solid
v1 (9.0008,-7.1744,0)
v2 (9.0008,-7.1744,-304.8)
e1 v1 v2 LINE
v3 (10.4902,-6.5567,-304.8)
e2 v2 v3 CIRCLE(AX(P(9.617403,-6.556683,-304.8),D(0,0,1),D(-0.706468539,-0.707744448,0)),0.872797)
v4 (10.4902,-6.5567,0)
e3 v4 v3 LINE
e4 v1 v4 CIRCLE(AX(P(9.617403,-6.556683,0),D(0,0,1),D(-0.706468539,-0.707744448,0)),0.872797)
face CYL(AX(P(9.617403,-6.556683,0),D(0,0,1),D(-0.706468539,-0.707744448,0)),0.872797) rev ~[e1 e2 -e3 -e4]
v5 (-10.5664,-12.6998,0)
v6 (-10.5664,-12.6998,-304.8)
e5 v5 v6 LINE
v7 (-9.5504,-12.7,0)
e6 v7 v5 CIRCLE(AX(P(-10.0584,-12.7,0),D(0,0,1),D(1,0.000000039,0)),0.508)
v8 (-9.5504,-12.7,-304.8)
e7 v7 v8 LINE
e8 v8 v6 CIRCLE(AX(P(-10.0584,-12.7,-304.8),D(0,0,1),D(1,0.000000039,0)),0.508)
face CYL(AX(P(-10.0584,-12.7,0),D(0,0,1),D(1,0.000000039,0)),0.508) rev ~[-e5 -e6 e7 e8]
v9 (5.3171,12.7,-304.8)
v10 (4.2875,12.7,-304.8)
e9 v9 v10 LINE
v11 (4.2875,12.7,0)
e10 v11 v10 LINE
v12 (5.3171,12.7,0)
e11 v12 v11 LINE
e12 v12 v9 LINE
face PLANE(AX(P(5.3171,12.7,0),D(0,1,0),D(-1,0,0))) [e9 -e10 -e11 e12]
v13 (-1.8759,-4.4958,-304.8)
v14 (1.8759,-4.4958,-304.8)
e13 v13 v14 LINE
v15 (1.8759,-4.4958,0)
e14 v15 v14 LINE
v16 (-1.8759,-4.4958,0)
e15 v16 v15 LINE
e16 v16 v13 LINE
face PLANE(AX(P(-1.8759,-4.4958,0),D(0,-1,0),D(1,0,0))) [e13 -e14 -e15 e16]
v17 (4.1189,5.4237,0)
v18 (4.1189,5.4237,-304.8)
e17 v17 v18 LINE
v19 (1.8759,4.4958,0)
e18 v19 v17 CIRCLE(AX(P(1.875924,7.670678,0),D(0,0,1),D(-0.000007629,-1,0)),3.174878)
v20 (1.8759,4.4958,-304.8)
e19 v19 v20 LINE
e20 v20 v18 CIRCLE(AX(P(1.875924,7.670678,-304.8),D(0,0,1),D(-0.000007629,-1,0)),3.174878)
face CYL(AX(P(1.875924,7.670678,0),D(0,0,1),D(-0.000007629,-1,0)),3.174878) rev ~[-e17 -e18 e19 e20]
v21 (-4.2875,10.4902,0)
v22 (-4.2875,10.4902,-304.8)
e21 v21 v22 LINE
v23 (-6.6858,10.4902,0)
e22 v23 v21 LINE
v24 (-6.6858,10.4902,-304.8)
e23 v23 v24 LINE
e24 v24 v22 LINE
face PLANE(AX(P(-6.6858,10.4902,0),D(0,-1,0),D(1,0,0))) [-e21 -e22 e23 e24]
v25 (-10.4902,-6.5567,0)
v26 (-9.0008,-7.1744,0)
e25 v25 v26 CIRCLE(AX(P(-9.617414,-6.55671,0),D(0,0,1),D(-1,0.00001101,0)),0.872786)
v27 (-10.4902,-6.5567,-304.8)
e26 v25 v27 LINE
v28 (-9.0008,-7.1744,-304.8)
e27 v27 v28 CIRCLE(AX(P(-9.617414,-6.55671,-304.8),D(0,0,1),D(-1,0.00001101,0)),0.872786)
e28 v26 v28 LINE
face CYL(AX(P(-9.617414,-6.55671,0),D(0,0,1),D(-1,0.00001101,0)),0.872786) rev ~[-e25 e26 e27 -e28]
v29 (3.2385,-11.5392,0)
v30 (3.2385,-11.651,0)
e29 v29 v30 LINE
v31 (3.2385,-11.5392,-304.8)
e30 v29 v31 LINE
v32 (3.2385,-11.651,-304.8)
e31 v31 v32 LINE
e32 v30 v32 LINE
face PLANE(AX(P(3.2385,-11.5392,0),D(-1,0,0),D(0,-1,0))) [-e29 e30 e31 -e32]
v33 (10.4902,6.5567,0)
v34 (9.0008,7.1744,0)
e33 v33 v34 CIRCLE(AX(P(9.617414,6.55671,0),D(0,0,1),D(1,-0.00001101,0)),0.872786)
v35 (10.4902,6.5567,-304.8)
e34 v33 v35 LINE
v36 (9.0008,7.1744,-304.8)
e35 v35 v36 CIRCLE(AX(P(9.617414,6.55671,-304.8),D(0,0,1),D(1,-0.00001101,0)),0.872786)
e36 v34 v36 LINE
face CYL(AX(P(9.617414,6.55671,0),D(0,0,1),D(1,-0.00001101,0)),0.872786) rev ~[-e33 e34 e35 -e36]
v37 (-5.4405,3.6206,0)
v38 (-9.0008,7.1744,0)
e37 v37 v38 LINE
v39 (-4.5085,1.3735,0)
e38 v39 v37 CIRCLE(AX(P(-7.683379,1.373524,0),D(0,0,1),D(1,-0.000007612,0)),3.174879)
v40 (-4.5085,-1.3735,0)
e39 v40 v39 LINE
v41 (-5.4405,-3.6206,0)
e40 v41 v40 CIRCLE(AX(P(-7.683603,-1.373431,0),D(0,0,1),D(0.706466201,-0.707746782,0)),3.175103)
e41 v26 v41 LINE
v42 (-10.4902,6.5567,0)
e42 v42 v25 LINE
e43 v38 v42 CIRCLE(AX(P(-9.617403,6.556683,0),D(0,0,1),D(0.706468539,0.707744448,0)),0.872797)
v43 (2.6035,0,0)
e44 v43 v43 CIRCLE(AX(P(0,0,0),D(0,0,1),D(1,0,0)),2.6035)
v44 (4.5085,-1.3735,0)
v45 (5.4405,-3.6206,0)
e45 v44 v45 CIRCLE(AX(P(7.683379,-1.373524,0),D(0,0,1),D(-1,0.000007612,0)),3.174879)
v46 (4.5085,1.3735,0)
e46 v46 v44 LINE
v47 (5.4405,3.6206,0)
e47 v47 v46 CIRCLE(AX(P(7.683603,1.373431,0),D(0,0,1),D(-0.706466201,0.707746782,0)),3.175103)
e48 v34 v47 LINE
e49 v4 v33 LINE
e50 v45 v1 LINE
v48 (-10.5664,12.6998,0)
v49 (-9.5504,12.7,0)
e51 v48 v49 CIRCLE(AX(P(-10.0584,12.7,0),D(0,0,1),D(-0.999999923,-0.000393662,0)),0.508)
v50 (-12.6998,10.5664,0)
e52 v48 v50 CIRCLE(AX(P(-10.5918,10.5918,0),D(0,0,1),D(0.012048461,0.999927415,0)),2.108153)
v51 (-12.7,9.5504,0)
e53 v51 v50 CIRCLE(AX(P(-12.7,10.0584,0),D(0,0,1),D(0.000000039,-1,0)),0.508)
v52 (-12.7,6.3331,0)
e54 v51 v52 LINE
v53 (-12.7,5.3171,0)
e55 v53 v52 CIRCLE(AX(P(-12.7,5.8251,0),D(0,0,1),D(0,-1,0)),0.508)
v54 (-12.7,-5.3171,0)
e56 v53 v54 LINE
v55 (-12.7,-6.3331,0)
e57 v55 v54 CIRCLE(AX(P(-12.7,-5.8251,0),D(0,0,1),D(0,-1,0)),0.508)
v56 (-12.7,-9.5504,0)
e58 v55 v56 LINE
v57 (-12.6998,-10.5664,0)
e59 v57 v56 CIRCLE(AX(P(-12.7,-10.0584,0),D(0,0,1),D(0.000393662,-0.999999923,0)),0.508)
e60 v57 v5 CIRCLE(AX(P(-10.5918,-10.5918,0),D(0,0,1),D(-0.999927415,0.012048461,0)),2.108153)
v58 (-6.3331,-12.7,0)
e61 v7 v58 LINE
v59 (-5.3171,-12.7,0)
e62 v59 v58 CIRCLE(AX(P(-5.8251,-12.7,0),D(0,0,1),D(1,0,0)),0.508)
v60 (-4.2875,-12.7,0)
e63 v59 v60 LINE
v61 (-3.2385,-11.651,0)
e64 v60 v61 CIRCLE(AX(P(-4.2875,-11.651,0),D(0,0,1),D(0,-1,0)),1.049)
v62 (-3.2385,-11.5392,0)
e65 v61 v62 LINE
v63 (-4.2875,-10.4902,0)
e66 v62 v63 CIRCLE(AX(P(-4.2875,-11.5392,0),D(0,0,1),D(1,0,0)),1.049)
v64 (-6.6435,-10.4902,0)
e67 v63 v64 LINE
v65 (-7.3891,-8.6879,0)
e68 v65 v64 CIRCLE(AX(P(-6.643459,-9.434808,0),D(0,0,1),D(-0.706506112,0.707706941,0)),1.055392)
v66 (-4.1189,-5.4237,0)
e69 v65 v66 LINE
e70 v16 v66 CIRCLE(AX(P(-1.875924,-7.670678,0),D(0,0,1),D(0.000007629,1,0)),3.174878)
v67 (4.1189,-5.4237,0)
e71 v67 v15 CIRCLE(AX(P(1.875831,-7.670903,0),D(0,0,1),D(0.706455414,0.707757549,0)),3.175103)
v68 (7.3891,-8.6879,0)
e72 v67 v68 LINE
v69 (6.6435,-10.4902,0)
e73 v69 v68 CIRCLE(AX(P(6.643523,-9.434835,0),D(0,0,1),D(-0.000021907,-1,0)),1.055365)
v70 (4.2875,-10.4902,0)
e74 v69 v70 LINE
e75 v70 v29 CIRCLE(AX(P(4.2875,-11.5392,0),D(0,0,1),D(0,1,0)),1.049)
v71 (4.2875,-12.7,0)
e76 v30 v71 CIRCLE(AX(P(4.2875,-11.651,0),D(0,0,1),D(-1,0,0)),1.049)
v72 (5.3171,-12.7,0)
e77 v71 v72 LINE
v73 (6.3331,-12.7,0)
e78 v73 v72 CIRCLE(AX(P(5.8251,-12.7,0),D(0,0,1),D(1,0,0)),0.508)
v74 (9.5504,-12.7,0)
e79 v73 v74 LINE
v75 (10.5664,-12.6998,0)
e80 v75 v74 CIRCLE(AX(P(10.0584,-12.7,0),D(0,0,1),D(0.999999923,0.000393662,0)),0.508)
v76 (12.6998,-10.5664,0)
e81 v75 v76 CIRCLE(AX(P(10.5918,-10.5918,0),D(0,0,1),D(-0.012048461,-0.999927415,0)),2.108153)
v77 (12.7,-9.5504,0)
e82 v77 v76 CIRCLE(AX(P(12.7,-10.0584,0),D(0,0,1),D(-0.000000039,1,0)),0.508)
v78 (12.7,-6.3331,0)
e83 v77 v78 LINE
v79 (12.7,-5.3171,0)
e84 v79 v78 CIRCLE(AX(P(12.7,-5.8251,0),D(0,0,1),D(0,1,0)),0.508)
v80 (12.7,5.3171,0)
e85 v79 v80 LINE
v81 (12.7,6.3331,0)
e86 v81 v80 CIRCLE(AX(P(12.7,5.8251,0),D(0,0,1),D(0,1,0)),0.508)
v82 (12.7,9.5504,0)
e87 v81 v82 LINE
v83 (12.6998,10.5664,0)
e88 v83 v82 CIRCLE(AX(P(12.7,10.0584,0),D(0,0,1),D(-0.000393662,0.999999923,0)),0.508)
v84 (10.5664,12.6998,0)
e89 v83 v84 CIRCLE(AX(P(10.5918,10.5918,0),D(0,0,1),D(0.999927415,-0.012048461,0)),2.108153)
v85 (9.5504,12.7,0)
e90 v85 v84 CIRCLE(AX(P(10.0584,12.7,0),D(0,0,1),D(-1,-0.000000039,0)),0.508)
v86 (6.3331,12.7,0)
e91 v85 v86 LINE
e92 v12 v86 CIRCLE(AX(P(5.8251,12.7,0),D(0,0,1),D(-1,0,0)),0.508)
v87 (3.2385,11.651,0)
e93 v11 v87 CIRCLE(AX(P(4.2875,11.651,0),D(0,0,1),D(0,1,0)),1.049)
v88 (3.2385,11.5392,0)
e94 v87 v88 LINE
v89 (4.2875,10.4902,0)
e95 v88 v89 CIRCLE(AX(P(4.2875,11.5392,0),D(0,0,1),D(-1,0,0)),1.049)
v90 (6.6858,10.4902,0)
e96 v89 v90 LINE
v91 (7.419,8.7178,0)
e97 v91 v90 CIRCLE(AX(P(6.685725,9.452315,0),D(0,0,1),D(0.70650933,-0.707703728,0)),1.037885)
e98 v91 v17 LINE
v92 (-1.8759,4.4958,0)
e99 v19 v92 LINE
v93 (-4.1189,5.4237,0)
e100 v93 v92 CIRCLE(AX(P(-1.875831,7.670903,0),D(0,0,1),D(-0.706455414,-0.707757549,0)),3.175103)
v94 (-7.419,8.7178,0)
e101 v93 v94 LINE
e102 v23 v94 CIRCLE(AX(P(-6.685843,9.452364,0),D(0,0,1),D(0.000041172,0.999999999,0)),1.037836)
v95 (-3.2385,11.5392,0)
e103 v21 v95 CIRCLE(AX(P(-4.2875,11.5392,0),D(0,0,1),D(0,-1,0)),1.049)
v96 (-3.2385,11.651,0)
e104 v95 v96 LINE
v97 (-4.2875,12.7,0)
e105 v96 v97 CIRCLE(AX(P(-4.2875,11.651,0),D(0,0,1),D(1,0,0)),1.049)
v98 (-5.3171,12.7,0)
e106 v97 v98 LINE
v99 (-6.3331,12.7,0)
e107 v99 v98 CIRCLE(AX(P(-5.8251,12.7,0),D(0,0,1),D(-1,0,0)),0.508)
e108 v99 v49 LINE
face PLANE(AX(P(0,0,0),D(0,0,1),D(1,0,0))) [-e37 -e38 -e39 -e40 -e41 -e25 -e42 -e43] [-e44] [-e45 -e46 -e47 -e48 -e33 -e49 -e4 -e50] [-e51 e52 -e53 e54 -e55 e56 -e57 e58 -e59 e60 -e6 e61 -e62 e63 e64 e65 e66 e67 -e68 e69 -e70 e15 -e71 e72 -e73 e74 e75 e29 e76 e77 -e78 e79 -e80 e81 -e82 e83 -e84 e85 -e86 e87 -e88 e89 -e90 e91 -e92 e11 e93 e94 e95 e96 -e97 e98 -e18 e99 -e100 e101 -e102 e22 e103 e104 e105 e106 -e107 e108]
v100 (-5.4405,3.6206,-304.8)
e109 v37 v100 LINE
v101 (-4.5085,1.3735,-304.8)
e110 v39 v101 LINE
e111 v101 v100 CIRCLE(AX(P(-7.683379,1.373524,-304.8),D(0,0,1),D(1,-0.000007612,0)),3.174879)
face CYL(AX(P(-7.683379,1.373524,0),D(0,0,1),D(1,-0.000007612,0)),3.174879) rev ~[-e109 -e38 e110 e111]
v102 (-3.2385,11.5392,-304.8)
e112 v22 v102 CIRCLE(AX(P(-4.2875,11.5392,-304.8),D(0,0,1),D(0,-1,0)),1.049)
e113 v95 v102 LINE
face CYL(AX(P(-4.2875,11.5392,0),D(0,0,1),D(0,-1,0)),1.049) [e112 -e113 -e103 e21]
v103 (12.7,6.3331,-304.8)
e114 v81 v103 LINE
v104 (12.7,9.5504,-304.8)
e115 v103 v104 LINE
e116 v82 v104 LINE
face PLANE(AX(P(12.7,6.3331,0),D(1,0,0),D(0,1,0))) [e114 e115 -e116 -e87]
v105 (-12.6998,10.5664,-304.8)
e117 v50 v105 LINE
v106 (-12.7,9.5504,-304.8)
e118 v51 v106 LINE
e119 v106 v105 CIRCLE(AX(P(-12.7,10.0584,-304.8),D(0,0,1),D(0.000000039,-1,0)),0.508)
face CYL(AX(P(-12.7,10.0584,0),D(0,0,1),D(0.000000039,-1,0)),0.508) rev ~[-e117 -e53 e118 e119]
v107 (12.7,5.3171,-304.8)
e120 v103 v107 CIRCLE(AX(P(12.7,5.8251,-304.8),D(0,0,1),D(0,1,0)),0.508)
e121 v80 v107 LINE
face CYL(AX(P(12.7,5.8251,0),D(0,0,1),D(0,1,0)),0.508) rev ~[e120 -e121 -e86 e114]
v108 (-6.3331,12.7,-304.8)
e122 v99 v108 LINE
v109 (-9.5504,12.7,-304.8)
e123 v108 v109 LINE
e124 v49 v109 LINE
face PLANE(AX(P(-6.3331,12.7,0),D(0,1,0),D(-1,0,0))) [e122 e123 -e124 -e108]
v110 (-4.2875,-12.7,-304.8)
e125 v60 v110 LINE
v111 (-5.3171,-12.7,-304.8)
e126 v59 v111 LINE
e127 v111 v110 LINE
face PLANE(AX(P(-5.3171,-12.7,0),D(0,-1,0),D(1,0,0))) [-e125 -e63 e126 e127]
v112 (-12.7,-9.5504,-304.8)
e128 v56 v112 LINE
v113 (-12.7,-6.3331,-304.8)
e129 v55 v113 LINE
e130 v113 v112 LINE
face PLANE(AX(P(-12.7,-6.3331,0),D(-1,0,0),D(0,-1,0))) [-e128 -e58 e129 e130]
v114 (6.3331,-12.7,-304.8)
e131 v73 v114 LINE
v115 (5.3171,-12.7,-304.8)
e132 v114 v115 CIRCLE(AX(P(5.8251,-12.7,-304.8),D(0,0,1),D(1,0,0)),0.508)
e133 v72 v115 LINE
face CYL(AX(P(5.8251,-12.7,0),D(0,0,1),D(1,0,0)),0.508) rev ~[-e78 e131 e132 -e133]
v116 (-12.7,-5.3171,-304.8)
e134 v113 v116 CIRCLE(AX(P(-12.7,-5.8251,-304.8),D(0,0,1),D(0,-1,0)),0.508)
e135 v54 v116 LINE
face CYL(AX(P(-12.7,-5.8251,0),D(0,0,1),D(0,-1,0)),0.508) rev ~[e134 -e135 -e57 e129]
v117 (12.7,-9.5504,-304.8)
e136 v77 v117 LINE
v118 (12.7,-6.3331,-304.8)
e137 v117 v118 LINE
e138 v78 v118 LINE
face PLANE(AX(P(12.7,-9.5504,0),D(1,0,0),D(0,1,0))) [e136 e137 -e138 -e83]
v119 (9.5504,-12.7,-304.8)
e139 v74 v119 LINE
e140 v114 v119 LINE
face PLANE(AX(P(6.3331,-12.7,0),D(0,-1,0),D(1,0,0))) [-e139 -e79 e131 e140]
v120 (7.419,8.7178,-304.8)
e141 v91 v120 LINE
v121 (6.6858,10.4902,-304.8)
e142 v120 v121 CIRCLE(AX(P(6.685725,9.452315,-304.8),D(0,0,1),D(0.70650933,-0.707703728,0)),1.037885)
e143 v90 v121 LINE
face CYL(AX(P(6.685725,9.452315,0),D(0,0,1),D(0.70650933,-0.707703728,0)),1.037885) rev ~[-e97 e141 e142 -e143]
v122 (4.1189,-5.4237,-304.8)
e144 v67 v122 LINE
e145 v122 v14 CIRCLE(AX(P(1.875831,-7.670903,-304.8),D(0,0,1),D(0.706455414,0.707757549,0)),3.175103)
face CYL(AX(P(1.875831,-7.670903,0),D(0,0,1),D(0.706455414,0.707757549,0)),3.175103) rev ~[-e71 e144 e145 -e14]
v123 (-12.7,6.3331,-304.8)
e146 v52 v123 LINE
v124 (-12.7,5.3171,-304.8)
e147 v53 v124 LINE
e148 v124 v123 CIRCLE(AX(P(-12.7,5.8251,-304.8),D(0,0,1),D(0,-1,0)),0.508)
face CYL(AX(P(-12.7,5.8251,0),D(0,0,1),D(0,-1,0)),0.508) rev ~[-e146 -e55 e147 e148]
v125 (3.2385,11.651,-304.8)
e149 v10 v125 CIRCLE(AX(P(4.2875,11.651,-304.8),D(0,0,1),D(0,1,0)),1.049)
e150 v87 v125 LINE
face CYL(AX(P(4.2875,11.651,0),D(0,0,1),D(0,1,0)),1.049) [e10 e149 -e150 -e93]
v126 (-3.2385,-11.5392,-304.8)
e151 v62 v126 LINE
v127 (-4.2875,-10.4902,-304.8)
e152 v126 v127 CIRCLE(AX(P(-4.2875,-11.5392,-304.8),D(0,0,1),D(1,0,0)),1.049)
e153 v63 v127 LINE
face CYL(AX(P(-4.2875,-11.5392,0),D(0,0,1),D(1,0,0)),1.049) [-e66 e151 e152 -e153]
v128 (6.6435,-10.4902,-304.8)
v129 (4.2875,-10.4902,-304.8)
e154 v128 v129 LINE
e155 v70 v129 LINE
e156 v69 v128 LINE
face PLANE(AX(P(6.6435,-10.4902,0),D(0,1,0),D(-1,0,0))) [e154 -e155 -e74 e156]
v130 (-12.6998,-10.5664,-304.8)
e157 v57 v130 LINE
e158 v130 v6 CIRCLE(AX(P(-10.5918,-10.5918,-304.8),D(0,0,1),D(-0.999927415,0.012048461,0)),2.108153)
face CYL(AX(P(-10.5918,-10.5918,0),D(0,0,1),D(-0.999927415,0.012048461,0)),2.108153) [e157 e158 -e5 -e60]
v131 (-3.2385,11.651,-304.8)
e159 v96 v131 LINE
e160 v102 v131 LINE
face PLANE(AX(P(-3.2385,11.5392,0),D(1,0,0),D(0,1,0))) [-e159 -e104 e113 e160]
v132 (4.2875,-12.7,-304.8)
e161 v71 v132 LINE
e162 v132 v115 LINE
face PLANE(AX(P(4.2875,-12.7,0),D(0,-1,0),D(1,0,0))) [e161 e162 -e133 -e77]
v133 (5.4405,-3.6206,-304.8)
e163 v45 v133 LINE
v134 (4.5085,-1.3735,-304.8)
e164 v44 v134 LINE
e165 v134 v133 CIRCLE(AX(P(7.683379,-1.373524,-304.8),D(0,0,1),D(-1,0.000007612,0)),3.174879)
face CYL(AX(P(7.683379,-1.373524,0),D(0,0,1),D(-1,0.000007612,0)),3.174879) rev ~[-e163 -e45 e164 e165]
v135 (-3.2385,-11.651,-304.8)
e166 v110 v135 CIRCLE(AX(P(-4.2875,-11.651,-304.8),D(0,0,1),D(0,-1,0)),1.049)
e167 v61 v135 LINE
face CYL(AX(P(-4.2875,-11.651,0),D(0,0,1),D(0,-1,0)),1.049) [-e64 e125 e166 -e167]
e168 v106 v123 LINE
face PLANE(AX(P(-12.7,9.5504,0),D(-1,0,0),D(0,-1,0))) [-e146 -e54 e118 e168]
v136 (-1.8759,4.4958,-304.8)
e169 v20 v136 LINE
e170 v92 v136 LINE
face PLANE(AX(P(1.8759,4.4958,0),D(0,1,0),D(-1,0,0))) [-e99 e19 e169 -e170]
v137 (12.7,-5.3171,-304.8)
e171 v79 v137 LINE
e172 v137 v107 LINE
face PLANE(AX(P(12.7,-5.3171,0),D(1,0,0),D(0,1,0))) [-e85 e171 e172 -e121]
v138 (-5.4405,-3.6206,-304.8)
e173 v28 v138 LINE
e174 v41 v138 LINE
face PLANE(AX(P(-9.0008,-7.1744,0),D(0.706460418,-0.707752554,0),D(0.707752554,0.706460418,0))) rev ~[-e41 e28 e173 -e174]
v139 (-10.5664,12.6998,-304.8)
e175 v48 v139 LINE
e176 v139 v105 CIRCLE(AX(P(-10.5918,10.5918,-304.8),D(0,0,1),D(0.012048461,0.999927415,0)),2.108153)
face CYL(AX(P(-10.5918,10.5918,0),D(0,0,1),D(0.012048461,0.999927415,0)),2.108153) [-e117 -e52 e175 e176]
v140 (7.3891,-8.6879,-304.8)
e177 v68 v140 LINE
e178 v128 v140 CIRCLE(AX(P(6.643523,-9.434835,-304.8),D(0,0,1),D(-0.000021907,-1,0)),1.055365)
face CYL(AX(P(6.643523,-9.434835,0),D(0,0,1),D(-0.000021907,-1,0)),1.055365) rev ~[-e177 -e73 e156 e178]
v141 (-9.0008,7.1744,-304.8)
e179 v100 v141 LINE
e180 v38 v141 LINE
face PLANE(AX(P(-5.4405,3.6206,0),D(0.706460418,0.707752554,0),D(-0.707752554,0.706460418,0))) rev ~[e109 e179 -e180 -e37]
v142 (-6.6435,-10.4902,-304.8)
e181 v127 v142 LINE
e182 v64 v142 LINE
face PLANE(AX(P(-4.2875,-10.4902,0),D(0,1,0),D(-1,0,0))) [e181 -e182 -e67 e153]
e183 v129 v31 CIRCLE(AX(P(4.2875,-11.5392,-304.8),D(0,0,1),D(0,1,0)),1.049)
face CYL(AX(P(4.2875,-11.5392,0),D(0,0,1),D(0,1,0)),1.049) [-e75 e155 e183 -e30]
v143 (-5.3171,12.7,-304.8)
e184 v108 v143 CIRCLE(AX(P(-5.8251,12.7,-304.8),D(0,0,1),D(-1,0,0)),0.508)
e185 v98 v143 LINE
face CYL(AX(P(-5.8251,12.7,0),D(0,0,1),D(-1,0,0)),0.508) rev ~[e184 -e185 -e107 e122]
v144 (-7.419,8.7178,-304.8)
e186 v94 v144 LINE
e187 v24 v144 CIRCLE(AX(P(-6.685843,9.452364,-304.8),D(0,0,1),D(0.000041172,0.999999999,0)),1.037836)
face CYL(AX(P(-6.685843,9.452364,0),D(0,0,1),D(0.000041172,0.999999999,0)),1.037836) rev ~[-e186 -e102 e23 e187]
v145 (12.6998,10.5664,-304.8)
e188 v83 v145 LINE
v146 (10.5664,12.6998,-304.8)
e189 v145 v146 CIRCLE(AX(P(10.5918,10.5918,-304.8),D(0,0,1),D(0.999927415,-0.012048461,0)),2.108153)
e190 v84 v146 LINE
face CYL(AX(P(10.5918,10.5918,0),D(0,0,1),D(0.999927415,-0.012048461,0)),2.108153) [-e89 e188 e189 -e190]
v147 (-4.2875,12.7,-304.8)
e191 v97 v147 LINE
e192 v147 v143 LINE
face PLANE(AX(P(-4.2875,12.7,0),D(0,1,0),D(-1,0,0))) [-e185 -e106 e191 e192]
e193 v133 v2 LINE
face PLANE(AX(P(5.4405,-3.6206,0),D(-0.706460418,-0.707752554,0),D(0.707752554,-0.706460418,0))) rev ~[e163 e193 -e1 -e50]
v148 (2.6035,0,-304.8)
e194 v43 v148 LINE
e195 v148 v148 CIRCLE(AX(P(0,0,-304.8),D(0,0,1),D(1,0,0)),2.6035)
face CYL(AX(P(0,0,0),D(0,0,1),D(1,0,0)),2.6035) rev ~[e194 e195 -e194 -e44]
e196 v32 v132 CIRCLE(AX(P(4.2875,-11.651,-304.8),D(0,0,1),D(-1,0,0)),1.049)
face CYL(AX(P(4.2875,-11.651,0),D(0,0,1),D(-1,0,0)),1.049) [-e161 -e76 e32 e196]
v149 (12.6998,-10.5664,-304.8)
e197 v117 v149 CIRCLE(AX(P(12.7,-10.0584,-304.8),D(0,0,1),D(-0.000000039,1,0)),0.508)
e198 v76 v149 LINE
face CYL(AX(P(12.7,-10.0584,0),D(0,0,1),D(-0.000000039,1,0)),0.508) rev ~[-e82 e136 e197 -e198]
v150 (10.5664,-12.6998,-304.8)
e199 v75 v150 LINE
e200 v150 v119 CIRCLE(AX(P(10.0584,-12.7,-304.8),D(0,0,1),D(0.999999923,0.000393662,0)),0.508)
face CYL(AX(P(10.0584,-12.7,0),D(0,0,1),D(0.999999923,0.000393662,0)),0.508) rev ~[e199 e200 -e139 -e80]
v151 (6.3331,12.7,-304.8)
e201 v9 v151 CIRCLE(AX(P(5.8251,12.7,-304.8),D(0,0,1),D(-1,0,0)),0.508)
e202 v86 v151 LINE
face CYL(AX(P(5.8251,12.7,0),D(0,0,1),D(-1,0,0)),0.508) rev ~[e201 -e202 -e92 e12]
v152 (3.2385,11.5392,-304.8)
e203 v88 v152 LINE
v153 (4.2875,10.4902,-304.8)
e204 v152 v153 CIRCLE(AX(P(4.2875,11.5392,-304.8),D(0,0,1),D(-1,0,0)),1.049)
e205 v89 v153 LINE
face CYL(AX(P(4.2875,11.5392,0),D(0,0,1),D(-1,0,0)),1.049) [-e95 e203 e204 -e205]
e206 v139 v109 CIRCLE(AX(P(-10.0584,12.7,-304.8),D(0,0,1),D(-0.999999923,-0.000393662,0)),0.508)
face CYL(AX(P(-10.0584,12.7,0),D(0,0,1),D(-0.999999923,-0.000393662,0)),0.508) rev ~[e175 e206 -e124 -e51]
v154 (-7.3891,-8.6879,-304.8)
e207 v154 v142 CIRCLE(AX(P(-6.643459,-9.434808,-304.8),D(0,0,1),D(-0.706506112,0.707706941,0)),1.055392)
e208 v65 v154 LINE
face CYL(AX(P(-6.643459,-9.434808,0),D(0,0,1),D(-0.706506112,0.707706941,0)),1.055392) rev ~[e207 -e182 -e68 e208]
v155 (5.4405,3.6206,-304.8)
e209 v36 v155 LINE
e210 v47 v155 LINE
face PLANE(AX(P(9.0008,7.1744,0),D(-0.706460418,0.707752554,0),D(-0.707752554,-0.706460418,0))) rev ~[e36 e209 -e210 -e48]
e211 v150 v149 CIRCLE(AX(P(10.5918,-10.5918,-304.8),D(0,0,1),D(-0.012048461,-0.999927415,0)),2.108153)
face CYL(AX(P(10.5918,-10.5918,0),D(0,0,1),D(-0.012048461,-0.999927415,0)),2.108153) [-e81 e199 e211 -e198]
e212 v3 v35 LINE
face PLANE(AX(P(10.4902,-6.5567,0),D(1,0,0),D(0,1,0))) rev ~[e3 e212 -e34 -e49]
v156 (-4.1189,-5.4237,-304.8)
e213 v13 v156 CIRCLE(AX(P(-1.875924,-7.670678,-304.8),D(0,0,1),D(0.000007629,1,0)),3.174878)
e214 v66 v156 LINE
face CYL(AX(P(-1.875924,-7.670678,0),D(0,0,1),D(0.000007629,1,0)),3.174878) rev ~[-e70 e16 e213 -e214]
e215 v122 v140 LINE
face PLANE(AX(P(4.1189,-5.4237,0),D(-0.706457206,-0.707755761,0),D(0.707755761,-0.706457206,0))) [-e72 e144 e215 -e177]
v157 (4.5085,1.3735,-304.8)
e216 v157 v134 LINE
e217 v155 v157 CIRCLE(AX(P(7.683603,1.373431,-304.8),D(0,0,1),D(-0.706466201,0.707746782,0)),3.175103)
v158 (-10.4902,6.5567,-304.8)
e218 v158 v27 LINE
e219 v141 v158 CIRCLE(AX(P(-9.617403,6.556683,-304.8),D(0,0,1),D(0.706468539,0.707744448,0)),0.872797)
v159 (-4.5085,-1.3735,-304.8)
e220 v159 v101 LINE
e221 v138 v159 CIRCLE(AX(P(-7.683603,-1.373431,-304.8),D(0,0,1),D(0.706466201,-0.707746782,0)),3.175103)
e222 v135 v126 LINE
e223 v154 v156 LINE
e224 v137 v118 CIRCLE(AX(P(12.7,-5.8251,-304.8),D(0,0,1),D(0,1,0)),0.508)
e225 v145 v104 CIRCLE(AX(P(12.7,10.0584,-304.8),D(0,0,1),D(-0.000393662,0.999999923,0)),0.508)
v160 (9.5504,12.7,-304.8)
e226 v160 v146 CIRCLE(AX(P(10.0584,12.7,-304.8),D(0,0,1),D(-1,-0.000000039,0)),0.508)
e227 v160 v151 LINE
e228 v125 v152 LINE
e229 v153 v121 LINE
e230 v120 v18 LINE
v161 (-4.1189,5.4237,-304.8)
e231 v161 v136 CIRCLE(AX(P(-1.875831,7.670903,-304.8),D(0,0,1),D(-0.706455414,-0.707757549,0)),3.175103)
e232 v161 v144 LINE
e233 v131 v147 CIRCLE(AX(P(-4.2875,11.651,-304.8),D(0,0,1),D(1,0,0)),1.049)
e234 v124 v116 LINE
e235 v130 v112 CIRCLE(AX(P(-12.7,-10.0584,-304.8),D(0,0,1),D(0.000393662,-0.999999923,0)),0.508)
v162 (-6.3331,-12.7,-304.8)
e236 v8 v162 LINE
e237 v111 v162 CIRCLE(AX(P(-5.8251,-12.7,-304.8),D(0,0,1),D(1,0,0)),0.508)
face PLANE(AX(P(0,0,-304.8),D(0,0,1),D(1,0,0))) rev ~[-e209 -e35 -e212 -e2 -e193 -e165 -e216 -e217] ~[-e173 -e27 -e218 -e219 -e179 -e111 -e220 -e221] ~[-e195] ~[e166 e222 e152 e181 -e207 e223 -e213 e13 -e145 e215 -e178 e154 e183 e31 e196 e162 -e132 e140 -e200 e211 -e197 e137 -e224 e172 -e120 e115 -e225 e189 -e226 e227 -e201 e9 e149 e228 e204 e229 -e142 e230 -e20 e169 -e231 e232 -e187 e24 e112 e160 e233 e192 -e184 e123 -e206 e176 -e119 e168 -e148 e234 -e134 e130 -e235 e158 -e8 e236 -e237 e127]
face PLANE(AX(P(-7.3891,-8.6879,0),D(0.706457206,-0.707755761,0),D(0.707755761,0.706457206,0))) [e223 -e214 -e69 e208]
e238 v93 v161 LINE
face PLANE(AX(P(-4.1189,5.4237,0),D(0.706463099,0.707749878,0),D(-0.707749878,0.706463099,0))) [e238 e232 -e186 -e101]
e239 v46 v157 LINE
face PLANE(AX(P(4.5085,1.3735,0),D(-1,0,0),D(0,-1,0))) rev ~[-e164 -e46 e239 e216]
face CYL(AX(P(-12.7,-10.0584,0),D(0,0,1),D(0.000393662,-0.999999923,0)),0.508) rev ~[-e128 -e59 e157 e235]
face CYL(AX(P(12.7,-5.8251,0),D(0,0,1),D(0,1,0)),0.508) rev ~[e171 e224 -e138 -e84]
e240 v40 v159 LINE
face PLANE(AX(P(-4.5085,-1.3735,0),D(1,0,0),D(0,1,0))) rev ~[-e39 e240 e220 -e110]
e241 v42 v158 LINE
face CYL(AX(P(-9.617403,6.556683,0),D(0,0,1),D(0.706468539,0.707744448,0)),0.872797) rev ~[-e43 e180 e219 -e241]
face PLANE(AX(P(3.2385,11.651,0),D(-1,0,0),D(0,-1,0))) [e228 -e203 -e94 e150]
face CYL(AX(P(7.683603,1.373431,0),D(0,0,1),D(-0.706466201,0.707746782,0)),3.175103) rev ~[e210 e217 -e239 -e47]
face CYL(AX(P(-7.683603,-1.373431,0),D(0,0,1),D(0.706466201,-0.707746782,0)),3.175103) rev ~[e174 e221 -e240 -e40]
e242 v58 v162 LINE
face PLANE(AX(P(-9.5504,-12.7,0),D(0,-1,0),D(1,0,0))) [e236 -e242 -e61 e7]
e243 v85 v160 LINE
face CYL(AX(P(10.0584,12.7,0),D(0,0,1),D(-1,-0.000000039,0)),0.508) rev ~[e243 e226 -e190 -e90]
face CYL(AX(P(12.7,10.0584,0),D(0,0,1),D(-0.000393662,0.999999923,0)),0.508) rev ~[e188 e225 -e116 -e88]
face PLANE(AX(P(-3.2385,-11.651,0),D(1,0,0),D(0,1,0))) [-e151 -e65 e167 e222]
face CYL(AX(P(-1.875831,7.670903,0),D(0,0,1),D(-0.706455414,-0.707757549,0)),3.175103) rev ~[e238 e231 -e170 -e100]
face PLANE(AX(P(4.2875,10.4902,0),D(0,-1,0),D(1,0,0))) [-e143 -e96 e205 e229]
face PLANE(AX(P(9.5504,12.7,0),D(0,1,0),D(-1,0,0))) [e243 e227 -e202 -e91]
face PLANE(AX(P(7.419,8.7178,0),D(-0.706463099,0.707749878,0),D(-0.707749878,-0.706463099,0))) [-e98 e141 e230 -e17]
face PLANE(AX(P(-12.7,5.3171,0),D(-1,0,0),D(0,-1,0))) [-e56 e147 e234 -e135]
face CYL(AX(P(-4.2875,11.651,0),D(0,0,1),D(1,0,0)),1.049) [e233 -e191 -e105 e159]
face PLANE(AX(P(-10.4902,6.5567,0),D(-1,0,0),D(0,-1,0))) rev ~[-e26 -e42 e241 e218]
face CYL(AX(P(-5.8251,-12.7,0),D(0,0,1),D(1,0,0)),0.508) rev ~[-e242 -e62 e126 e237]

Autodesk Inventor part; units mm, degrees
ref_plane "YZ Plane" through (0, 0, 0) normal (1, 0, 0) x (0, 1, 0)
ref_plane "XZ Plane" through (0, 0, 0) normal (0, 1, 0) x (-1, 0, 0)
ref_plane "XY Plane" through (0, 0, 0) normal (0, 0, 1) x (1, 0, 0)
sketch "Sketch1" plane through (0, 0, 0) normal (0, 0, 1) x (1, 0, 0)
  arc A0 (5.4405, 3.6206) -> (4.5085, 1.3735) centre (7.6835, 1.3735) ccw
  line L0 (9.0008, 7.1744) -> (5.4405, 3.6206)
  arc A1 (10.4902, 6.5567) -> (9.0008, 7.1744) centre (9.6174, 6.5567) ccw
  line L1 (10.4902, -6.5567) -> (10.4902, 6.5567)
  arc A2 (9.0008, -7.1744) -> (10.4902, -6.5567) centre (9.6174, -6.5567) ccw
  line L2 (5.4405, -3.6206) -> (9.0008, -7.1744)
  arc A3 (4.5085, -1.3735) -> (5.4405, -3.6206) centre (7.6835, -1.3735) ccw
  line L3 (4.5085, 1.3735) -> (4.5085, -1.3735)
  circle A4 centre (0, 0) radius 2.6035
  arc A5 (-9.0008, 7.1744) -> (-10.4902, 6.5567) centre (-9.6174, 6.5567) ccw
  line L4 (-5.4405, 3.6206) -> (-9.0008, 7.1744)
  arc A6 (-4.5085, 1.3735) -> (-5.4405, 3.6206) centre (-7.6835, 1.3735) ccw
  line L5 (-4.5085, -1.3735) -> (-4.5085, 1.3735)
  arc A7 (-5.4405, -3.6206) -> (-4.5085, -1.3735) centre (-7.6835, -1.3735) ccw
  line L6 (-9.0008, -7.1744) -> (-5.4405, -3.6206)
  arc A8 (-10.4902, -6.5567) -> (-9.0008, -7.1744) centre (-9.6174, -6.5567) ccw
  line L7 (-10.4902, 6.5567) -> (-10.4902, -6.5567)
  arc A9 (-7.3891, -8.6879) -> (-6.6435, -10.4902) centre (-6.6435, -9.4348) ccw
  line L8 (-7.3891, -8.6879) -> (-4.1189, -5.4237)
  arc A10 (-1.8759, -4.4958) -> (-4.1189, -5.4237) centre (-1.8759, -7.6708) ccw
  line L9 (-1.8759, -4.4958) -> (1.8759, -4.4958)
  arc A11 (4.1189, -5.4237) -> (1.8759, -4.4958) centre (1.8759, -7.6708) ccw
  line L10 (4.1189, -5.4237) -> (7.3891, -8.6879)
  arc A12 (6.6435, -10.4902) -> (7.3891, -8.6879) centre (6.6435, -9.4348) ccw
  line L11 (6.6435, -10.4902) -> (4.2875, -10.4902)
  arc A13 (4.2875, -10.4902) -> (3.2385, -11.5392) centre (4.2875, -11.5392) ccw
  line L12 (3.2385, -11.5392) -> (3.2385, -11.651)
  arc A14 (3.2385, -11.651) -> (4.2875, -12.7) centre (4.2875, -11.651) ccw
  line L13 (4.2875, -12.7) -> (5.3171, -12.7)
  arc A15 (6.3331, -12.7) -> (5.3171, -12.7) centre (5.8251, -12.7) ccw
  line L14 (6.3331, -12.7) -> (9.5504, -12.7)
  arc A16 (10.5664, -12.6998) -> (9.5504, -12.7) centre (10.0584, -12.7) ccw
  arc A17 (10.5664, -12.6998) -> (12.6998, -10.5664) centre (10.5918, -10.5918) ccw
  arc A18 (12.7, -9.5504) -> (12.6998, -10.5664) centre (12.7, -10.0584) ccw
  line L15 (12.7, -9.5504) -> (12.7, -6.3331)
  arc A19 (12.7, -5.3171) -> (12.7, -6.3331) centre (12.7, -5.8251) ccw
  line L16 (12.7, -5.3171) -> (12.7, 5.3171)
  arc A20 (12.7, 6.3331) -> (12.7, 5.3171) centre (12.7, 5.8251) ccw
  line L17 (12.7, 6.3331) -> (12.7, 9.5504)
  arc A21 (12.6998, 10.5664) -> (12.7, 9.5504) centre (12.7, 10.0584) ccw
  arc A22 (12.6998, 10.5664) -> (10.5664, 12.6998) centre (10.5918, 10.5918) ccw
  arc A23 (9.5504, 12.7) -> (10.5664, 12.6998) centre (10.0584, 12.7) ccw
  line L18 (9.5504, 12.7) -> (6.3331, 12.7)
  arc A24 (5.3171, 12.7) -> (6.3331, 12.7) centre (5.8251, 12.7) ccw
  line L19 (5.3171, 12.7) -> (4.2875, 12.7)
  arc A25 (4.2875, 12.7) -> (3.2385, 11.651) centre (4.2875, 11.651) ccw
  line L20 (3.2385, 11.651) -> (3.2385, 11.5392)
  arc A26 (3.2385, 11.5392) -> (4.2875, 10.4902) centre (4.2875, 11.5392) ccw
  line L21 (4.2875, 10.4902) -> (6.6858, 10.4902)
  arc A27 (7.419, 8.7178) -> (6.6858, 10.4902) centre (6.6858, 9.4523) ccw
  line L22 (7.419, 8.7178) -> (4.1189, 5.4237)
  arc A28 (1.8759, 4.4958) -> (4.1189, 5.4237) centre (1.8759, 7.6708) ccw
  line L23 (1.8759, 4.4958) -> (-1.8759, 4.4958)
  arc A29 (-4.1189, 5.4237) -> (-1.8759, 4.4958) centre (-1.8759, 7.6708) ccw
  line L24 (-4.1189, 5.4237) -> (-7.419, 8.7178)
  arc A30 (-6.6858, 10.4902) -> (-7.419, 8.7178) centre (-6.6858, 9.4523) ccw
  line L25 (-6.6858, 10.4902) -> (-4.2875, 10.4902)
  arc A31 (-4.2875, 10.4902) -> (-3.2385, 11.5392) centre (-4.2875, 11.5392) ccw
  line L26 (-3.2385, 11.5392) -> (-3.2385, 11.651)
  arc A32 (-3.2385, 11.651) -> (-4.2875, 12.7) centre (-4.2875, 11.651) ccw
  line L27 (-4.2875, 12.7) -> (-5.3171, 12.7)
  arc A33 (-6.3331, 12.7) -> (-5.3171, 12.7) centre (-5.8251, 12.7) ccw
  line L28 (-6.3331, 12.7) -> (-9.5504, 12.7)
  arc A34 (-10.5664, 12.6998) -> (-9.5504, 12.7) centre (-10.0584, 12.7) ccw
  arc A35 (-10.5664, 12.6998) -> (-12.6998, 10.5664) centre (-10.5918, 10.5918) ccw
  arc A36 (-12.7, 9.5504) -> (-12.6998, 10.5664) centre (-12.7, 10.0584) ccw
  line L29 (-12.7, 9.5504) -> (-12.7, 6.3331)
  arc A37 (-12.7, 5.3171) -> (-12.7, 6.3331) centre (-12.7, 5.8251) ccw
  line L30 (-12.7, 5.3171) -> (-12.7, -5.3171)
  arc A38 (-12.7, -6.3331) -> (-12.7, -5.3171) centre (-12.7, -5.8251) ccw
  line L31 (-12.7, -6.3331) -> (-12.7, -9.5504)
  arc A39 (-12.6998, -10.5664) -> (-12.7, -9.5504) centre (-12.7, -10.0584) ccw
  arc A40 (-12.6998, -10.5664) -> (-10.5664, -12.6998) centre (-10.5918, -10.5918) ccw
  arc A41 (-9.5504, -12.7) -> (-10.5664, -12.6998) centre (-10.0584, -12.7) ccw
  line L32 (-9.5504, -12.7) -> (-6.3331, -12.7)
  arc A42 (-5.3171, -12.7) -> (-6.3331, -12.7) centre (-5.8251, -12.7) ccw
  line L33 (-5.3171, -12.7) -> (-4.2875, -12.7)
  arc A43 (-4.2875, -12.7) -> (-3.2385, -11.651) centre (-4.2875, -11.651) ccw
  line L34 (-3.2385, -11.651) -> (-3.2385, -11.5392)
  arc A44 (-3.2385, -11.5392) -> (-4.2875, -10.4902) centre (-4.2875, -11.5392) ccw
  line L35 (-4.2875, -10.4902) -> (-6.6435, -10.4902)
extrude "Extrusion1" add sketch "Sketch1" against normal blind 304.8
properties part number "1004-BLACK-FB"
